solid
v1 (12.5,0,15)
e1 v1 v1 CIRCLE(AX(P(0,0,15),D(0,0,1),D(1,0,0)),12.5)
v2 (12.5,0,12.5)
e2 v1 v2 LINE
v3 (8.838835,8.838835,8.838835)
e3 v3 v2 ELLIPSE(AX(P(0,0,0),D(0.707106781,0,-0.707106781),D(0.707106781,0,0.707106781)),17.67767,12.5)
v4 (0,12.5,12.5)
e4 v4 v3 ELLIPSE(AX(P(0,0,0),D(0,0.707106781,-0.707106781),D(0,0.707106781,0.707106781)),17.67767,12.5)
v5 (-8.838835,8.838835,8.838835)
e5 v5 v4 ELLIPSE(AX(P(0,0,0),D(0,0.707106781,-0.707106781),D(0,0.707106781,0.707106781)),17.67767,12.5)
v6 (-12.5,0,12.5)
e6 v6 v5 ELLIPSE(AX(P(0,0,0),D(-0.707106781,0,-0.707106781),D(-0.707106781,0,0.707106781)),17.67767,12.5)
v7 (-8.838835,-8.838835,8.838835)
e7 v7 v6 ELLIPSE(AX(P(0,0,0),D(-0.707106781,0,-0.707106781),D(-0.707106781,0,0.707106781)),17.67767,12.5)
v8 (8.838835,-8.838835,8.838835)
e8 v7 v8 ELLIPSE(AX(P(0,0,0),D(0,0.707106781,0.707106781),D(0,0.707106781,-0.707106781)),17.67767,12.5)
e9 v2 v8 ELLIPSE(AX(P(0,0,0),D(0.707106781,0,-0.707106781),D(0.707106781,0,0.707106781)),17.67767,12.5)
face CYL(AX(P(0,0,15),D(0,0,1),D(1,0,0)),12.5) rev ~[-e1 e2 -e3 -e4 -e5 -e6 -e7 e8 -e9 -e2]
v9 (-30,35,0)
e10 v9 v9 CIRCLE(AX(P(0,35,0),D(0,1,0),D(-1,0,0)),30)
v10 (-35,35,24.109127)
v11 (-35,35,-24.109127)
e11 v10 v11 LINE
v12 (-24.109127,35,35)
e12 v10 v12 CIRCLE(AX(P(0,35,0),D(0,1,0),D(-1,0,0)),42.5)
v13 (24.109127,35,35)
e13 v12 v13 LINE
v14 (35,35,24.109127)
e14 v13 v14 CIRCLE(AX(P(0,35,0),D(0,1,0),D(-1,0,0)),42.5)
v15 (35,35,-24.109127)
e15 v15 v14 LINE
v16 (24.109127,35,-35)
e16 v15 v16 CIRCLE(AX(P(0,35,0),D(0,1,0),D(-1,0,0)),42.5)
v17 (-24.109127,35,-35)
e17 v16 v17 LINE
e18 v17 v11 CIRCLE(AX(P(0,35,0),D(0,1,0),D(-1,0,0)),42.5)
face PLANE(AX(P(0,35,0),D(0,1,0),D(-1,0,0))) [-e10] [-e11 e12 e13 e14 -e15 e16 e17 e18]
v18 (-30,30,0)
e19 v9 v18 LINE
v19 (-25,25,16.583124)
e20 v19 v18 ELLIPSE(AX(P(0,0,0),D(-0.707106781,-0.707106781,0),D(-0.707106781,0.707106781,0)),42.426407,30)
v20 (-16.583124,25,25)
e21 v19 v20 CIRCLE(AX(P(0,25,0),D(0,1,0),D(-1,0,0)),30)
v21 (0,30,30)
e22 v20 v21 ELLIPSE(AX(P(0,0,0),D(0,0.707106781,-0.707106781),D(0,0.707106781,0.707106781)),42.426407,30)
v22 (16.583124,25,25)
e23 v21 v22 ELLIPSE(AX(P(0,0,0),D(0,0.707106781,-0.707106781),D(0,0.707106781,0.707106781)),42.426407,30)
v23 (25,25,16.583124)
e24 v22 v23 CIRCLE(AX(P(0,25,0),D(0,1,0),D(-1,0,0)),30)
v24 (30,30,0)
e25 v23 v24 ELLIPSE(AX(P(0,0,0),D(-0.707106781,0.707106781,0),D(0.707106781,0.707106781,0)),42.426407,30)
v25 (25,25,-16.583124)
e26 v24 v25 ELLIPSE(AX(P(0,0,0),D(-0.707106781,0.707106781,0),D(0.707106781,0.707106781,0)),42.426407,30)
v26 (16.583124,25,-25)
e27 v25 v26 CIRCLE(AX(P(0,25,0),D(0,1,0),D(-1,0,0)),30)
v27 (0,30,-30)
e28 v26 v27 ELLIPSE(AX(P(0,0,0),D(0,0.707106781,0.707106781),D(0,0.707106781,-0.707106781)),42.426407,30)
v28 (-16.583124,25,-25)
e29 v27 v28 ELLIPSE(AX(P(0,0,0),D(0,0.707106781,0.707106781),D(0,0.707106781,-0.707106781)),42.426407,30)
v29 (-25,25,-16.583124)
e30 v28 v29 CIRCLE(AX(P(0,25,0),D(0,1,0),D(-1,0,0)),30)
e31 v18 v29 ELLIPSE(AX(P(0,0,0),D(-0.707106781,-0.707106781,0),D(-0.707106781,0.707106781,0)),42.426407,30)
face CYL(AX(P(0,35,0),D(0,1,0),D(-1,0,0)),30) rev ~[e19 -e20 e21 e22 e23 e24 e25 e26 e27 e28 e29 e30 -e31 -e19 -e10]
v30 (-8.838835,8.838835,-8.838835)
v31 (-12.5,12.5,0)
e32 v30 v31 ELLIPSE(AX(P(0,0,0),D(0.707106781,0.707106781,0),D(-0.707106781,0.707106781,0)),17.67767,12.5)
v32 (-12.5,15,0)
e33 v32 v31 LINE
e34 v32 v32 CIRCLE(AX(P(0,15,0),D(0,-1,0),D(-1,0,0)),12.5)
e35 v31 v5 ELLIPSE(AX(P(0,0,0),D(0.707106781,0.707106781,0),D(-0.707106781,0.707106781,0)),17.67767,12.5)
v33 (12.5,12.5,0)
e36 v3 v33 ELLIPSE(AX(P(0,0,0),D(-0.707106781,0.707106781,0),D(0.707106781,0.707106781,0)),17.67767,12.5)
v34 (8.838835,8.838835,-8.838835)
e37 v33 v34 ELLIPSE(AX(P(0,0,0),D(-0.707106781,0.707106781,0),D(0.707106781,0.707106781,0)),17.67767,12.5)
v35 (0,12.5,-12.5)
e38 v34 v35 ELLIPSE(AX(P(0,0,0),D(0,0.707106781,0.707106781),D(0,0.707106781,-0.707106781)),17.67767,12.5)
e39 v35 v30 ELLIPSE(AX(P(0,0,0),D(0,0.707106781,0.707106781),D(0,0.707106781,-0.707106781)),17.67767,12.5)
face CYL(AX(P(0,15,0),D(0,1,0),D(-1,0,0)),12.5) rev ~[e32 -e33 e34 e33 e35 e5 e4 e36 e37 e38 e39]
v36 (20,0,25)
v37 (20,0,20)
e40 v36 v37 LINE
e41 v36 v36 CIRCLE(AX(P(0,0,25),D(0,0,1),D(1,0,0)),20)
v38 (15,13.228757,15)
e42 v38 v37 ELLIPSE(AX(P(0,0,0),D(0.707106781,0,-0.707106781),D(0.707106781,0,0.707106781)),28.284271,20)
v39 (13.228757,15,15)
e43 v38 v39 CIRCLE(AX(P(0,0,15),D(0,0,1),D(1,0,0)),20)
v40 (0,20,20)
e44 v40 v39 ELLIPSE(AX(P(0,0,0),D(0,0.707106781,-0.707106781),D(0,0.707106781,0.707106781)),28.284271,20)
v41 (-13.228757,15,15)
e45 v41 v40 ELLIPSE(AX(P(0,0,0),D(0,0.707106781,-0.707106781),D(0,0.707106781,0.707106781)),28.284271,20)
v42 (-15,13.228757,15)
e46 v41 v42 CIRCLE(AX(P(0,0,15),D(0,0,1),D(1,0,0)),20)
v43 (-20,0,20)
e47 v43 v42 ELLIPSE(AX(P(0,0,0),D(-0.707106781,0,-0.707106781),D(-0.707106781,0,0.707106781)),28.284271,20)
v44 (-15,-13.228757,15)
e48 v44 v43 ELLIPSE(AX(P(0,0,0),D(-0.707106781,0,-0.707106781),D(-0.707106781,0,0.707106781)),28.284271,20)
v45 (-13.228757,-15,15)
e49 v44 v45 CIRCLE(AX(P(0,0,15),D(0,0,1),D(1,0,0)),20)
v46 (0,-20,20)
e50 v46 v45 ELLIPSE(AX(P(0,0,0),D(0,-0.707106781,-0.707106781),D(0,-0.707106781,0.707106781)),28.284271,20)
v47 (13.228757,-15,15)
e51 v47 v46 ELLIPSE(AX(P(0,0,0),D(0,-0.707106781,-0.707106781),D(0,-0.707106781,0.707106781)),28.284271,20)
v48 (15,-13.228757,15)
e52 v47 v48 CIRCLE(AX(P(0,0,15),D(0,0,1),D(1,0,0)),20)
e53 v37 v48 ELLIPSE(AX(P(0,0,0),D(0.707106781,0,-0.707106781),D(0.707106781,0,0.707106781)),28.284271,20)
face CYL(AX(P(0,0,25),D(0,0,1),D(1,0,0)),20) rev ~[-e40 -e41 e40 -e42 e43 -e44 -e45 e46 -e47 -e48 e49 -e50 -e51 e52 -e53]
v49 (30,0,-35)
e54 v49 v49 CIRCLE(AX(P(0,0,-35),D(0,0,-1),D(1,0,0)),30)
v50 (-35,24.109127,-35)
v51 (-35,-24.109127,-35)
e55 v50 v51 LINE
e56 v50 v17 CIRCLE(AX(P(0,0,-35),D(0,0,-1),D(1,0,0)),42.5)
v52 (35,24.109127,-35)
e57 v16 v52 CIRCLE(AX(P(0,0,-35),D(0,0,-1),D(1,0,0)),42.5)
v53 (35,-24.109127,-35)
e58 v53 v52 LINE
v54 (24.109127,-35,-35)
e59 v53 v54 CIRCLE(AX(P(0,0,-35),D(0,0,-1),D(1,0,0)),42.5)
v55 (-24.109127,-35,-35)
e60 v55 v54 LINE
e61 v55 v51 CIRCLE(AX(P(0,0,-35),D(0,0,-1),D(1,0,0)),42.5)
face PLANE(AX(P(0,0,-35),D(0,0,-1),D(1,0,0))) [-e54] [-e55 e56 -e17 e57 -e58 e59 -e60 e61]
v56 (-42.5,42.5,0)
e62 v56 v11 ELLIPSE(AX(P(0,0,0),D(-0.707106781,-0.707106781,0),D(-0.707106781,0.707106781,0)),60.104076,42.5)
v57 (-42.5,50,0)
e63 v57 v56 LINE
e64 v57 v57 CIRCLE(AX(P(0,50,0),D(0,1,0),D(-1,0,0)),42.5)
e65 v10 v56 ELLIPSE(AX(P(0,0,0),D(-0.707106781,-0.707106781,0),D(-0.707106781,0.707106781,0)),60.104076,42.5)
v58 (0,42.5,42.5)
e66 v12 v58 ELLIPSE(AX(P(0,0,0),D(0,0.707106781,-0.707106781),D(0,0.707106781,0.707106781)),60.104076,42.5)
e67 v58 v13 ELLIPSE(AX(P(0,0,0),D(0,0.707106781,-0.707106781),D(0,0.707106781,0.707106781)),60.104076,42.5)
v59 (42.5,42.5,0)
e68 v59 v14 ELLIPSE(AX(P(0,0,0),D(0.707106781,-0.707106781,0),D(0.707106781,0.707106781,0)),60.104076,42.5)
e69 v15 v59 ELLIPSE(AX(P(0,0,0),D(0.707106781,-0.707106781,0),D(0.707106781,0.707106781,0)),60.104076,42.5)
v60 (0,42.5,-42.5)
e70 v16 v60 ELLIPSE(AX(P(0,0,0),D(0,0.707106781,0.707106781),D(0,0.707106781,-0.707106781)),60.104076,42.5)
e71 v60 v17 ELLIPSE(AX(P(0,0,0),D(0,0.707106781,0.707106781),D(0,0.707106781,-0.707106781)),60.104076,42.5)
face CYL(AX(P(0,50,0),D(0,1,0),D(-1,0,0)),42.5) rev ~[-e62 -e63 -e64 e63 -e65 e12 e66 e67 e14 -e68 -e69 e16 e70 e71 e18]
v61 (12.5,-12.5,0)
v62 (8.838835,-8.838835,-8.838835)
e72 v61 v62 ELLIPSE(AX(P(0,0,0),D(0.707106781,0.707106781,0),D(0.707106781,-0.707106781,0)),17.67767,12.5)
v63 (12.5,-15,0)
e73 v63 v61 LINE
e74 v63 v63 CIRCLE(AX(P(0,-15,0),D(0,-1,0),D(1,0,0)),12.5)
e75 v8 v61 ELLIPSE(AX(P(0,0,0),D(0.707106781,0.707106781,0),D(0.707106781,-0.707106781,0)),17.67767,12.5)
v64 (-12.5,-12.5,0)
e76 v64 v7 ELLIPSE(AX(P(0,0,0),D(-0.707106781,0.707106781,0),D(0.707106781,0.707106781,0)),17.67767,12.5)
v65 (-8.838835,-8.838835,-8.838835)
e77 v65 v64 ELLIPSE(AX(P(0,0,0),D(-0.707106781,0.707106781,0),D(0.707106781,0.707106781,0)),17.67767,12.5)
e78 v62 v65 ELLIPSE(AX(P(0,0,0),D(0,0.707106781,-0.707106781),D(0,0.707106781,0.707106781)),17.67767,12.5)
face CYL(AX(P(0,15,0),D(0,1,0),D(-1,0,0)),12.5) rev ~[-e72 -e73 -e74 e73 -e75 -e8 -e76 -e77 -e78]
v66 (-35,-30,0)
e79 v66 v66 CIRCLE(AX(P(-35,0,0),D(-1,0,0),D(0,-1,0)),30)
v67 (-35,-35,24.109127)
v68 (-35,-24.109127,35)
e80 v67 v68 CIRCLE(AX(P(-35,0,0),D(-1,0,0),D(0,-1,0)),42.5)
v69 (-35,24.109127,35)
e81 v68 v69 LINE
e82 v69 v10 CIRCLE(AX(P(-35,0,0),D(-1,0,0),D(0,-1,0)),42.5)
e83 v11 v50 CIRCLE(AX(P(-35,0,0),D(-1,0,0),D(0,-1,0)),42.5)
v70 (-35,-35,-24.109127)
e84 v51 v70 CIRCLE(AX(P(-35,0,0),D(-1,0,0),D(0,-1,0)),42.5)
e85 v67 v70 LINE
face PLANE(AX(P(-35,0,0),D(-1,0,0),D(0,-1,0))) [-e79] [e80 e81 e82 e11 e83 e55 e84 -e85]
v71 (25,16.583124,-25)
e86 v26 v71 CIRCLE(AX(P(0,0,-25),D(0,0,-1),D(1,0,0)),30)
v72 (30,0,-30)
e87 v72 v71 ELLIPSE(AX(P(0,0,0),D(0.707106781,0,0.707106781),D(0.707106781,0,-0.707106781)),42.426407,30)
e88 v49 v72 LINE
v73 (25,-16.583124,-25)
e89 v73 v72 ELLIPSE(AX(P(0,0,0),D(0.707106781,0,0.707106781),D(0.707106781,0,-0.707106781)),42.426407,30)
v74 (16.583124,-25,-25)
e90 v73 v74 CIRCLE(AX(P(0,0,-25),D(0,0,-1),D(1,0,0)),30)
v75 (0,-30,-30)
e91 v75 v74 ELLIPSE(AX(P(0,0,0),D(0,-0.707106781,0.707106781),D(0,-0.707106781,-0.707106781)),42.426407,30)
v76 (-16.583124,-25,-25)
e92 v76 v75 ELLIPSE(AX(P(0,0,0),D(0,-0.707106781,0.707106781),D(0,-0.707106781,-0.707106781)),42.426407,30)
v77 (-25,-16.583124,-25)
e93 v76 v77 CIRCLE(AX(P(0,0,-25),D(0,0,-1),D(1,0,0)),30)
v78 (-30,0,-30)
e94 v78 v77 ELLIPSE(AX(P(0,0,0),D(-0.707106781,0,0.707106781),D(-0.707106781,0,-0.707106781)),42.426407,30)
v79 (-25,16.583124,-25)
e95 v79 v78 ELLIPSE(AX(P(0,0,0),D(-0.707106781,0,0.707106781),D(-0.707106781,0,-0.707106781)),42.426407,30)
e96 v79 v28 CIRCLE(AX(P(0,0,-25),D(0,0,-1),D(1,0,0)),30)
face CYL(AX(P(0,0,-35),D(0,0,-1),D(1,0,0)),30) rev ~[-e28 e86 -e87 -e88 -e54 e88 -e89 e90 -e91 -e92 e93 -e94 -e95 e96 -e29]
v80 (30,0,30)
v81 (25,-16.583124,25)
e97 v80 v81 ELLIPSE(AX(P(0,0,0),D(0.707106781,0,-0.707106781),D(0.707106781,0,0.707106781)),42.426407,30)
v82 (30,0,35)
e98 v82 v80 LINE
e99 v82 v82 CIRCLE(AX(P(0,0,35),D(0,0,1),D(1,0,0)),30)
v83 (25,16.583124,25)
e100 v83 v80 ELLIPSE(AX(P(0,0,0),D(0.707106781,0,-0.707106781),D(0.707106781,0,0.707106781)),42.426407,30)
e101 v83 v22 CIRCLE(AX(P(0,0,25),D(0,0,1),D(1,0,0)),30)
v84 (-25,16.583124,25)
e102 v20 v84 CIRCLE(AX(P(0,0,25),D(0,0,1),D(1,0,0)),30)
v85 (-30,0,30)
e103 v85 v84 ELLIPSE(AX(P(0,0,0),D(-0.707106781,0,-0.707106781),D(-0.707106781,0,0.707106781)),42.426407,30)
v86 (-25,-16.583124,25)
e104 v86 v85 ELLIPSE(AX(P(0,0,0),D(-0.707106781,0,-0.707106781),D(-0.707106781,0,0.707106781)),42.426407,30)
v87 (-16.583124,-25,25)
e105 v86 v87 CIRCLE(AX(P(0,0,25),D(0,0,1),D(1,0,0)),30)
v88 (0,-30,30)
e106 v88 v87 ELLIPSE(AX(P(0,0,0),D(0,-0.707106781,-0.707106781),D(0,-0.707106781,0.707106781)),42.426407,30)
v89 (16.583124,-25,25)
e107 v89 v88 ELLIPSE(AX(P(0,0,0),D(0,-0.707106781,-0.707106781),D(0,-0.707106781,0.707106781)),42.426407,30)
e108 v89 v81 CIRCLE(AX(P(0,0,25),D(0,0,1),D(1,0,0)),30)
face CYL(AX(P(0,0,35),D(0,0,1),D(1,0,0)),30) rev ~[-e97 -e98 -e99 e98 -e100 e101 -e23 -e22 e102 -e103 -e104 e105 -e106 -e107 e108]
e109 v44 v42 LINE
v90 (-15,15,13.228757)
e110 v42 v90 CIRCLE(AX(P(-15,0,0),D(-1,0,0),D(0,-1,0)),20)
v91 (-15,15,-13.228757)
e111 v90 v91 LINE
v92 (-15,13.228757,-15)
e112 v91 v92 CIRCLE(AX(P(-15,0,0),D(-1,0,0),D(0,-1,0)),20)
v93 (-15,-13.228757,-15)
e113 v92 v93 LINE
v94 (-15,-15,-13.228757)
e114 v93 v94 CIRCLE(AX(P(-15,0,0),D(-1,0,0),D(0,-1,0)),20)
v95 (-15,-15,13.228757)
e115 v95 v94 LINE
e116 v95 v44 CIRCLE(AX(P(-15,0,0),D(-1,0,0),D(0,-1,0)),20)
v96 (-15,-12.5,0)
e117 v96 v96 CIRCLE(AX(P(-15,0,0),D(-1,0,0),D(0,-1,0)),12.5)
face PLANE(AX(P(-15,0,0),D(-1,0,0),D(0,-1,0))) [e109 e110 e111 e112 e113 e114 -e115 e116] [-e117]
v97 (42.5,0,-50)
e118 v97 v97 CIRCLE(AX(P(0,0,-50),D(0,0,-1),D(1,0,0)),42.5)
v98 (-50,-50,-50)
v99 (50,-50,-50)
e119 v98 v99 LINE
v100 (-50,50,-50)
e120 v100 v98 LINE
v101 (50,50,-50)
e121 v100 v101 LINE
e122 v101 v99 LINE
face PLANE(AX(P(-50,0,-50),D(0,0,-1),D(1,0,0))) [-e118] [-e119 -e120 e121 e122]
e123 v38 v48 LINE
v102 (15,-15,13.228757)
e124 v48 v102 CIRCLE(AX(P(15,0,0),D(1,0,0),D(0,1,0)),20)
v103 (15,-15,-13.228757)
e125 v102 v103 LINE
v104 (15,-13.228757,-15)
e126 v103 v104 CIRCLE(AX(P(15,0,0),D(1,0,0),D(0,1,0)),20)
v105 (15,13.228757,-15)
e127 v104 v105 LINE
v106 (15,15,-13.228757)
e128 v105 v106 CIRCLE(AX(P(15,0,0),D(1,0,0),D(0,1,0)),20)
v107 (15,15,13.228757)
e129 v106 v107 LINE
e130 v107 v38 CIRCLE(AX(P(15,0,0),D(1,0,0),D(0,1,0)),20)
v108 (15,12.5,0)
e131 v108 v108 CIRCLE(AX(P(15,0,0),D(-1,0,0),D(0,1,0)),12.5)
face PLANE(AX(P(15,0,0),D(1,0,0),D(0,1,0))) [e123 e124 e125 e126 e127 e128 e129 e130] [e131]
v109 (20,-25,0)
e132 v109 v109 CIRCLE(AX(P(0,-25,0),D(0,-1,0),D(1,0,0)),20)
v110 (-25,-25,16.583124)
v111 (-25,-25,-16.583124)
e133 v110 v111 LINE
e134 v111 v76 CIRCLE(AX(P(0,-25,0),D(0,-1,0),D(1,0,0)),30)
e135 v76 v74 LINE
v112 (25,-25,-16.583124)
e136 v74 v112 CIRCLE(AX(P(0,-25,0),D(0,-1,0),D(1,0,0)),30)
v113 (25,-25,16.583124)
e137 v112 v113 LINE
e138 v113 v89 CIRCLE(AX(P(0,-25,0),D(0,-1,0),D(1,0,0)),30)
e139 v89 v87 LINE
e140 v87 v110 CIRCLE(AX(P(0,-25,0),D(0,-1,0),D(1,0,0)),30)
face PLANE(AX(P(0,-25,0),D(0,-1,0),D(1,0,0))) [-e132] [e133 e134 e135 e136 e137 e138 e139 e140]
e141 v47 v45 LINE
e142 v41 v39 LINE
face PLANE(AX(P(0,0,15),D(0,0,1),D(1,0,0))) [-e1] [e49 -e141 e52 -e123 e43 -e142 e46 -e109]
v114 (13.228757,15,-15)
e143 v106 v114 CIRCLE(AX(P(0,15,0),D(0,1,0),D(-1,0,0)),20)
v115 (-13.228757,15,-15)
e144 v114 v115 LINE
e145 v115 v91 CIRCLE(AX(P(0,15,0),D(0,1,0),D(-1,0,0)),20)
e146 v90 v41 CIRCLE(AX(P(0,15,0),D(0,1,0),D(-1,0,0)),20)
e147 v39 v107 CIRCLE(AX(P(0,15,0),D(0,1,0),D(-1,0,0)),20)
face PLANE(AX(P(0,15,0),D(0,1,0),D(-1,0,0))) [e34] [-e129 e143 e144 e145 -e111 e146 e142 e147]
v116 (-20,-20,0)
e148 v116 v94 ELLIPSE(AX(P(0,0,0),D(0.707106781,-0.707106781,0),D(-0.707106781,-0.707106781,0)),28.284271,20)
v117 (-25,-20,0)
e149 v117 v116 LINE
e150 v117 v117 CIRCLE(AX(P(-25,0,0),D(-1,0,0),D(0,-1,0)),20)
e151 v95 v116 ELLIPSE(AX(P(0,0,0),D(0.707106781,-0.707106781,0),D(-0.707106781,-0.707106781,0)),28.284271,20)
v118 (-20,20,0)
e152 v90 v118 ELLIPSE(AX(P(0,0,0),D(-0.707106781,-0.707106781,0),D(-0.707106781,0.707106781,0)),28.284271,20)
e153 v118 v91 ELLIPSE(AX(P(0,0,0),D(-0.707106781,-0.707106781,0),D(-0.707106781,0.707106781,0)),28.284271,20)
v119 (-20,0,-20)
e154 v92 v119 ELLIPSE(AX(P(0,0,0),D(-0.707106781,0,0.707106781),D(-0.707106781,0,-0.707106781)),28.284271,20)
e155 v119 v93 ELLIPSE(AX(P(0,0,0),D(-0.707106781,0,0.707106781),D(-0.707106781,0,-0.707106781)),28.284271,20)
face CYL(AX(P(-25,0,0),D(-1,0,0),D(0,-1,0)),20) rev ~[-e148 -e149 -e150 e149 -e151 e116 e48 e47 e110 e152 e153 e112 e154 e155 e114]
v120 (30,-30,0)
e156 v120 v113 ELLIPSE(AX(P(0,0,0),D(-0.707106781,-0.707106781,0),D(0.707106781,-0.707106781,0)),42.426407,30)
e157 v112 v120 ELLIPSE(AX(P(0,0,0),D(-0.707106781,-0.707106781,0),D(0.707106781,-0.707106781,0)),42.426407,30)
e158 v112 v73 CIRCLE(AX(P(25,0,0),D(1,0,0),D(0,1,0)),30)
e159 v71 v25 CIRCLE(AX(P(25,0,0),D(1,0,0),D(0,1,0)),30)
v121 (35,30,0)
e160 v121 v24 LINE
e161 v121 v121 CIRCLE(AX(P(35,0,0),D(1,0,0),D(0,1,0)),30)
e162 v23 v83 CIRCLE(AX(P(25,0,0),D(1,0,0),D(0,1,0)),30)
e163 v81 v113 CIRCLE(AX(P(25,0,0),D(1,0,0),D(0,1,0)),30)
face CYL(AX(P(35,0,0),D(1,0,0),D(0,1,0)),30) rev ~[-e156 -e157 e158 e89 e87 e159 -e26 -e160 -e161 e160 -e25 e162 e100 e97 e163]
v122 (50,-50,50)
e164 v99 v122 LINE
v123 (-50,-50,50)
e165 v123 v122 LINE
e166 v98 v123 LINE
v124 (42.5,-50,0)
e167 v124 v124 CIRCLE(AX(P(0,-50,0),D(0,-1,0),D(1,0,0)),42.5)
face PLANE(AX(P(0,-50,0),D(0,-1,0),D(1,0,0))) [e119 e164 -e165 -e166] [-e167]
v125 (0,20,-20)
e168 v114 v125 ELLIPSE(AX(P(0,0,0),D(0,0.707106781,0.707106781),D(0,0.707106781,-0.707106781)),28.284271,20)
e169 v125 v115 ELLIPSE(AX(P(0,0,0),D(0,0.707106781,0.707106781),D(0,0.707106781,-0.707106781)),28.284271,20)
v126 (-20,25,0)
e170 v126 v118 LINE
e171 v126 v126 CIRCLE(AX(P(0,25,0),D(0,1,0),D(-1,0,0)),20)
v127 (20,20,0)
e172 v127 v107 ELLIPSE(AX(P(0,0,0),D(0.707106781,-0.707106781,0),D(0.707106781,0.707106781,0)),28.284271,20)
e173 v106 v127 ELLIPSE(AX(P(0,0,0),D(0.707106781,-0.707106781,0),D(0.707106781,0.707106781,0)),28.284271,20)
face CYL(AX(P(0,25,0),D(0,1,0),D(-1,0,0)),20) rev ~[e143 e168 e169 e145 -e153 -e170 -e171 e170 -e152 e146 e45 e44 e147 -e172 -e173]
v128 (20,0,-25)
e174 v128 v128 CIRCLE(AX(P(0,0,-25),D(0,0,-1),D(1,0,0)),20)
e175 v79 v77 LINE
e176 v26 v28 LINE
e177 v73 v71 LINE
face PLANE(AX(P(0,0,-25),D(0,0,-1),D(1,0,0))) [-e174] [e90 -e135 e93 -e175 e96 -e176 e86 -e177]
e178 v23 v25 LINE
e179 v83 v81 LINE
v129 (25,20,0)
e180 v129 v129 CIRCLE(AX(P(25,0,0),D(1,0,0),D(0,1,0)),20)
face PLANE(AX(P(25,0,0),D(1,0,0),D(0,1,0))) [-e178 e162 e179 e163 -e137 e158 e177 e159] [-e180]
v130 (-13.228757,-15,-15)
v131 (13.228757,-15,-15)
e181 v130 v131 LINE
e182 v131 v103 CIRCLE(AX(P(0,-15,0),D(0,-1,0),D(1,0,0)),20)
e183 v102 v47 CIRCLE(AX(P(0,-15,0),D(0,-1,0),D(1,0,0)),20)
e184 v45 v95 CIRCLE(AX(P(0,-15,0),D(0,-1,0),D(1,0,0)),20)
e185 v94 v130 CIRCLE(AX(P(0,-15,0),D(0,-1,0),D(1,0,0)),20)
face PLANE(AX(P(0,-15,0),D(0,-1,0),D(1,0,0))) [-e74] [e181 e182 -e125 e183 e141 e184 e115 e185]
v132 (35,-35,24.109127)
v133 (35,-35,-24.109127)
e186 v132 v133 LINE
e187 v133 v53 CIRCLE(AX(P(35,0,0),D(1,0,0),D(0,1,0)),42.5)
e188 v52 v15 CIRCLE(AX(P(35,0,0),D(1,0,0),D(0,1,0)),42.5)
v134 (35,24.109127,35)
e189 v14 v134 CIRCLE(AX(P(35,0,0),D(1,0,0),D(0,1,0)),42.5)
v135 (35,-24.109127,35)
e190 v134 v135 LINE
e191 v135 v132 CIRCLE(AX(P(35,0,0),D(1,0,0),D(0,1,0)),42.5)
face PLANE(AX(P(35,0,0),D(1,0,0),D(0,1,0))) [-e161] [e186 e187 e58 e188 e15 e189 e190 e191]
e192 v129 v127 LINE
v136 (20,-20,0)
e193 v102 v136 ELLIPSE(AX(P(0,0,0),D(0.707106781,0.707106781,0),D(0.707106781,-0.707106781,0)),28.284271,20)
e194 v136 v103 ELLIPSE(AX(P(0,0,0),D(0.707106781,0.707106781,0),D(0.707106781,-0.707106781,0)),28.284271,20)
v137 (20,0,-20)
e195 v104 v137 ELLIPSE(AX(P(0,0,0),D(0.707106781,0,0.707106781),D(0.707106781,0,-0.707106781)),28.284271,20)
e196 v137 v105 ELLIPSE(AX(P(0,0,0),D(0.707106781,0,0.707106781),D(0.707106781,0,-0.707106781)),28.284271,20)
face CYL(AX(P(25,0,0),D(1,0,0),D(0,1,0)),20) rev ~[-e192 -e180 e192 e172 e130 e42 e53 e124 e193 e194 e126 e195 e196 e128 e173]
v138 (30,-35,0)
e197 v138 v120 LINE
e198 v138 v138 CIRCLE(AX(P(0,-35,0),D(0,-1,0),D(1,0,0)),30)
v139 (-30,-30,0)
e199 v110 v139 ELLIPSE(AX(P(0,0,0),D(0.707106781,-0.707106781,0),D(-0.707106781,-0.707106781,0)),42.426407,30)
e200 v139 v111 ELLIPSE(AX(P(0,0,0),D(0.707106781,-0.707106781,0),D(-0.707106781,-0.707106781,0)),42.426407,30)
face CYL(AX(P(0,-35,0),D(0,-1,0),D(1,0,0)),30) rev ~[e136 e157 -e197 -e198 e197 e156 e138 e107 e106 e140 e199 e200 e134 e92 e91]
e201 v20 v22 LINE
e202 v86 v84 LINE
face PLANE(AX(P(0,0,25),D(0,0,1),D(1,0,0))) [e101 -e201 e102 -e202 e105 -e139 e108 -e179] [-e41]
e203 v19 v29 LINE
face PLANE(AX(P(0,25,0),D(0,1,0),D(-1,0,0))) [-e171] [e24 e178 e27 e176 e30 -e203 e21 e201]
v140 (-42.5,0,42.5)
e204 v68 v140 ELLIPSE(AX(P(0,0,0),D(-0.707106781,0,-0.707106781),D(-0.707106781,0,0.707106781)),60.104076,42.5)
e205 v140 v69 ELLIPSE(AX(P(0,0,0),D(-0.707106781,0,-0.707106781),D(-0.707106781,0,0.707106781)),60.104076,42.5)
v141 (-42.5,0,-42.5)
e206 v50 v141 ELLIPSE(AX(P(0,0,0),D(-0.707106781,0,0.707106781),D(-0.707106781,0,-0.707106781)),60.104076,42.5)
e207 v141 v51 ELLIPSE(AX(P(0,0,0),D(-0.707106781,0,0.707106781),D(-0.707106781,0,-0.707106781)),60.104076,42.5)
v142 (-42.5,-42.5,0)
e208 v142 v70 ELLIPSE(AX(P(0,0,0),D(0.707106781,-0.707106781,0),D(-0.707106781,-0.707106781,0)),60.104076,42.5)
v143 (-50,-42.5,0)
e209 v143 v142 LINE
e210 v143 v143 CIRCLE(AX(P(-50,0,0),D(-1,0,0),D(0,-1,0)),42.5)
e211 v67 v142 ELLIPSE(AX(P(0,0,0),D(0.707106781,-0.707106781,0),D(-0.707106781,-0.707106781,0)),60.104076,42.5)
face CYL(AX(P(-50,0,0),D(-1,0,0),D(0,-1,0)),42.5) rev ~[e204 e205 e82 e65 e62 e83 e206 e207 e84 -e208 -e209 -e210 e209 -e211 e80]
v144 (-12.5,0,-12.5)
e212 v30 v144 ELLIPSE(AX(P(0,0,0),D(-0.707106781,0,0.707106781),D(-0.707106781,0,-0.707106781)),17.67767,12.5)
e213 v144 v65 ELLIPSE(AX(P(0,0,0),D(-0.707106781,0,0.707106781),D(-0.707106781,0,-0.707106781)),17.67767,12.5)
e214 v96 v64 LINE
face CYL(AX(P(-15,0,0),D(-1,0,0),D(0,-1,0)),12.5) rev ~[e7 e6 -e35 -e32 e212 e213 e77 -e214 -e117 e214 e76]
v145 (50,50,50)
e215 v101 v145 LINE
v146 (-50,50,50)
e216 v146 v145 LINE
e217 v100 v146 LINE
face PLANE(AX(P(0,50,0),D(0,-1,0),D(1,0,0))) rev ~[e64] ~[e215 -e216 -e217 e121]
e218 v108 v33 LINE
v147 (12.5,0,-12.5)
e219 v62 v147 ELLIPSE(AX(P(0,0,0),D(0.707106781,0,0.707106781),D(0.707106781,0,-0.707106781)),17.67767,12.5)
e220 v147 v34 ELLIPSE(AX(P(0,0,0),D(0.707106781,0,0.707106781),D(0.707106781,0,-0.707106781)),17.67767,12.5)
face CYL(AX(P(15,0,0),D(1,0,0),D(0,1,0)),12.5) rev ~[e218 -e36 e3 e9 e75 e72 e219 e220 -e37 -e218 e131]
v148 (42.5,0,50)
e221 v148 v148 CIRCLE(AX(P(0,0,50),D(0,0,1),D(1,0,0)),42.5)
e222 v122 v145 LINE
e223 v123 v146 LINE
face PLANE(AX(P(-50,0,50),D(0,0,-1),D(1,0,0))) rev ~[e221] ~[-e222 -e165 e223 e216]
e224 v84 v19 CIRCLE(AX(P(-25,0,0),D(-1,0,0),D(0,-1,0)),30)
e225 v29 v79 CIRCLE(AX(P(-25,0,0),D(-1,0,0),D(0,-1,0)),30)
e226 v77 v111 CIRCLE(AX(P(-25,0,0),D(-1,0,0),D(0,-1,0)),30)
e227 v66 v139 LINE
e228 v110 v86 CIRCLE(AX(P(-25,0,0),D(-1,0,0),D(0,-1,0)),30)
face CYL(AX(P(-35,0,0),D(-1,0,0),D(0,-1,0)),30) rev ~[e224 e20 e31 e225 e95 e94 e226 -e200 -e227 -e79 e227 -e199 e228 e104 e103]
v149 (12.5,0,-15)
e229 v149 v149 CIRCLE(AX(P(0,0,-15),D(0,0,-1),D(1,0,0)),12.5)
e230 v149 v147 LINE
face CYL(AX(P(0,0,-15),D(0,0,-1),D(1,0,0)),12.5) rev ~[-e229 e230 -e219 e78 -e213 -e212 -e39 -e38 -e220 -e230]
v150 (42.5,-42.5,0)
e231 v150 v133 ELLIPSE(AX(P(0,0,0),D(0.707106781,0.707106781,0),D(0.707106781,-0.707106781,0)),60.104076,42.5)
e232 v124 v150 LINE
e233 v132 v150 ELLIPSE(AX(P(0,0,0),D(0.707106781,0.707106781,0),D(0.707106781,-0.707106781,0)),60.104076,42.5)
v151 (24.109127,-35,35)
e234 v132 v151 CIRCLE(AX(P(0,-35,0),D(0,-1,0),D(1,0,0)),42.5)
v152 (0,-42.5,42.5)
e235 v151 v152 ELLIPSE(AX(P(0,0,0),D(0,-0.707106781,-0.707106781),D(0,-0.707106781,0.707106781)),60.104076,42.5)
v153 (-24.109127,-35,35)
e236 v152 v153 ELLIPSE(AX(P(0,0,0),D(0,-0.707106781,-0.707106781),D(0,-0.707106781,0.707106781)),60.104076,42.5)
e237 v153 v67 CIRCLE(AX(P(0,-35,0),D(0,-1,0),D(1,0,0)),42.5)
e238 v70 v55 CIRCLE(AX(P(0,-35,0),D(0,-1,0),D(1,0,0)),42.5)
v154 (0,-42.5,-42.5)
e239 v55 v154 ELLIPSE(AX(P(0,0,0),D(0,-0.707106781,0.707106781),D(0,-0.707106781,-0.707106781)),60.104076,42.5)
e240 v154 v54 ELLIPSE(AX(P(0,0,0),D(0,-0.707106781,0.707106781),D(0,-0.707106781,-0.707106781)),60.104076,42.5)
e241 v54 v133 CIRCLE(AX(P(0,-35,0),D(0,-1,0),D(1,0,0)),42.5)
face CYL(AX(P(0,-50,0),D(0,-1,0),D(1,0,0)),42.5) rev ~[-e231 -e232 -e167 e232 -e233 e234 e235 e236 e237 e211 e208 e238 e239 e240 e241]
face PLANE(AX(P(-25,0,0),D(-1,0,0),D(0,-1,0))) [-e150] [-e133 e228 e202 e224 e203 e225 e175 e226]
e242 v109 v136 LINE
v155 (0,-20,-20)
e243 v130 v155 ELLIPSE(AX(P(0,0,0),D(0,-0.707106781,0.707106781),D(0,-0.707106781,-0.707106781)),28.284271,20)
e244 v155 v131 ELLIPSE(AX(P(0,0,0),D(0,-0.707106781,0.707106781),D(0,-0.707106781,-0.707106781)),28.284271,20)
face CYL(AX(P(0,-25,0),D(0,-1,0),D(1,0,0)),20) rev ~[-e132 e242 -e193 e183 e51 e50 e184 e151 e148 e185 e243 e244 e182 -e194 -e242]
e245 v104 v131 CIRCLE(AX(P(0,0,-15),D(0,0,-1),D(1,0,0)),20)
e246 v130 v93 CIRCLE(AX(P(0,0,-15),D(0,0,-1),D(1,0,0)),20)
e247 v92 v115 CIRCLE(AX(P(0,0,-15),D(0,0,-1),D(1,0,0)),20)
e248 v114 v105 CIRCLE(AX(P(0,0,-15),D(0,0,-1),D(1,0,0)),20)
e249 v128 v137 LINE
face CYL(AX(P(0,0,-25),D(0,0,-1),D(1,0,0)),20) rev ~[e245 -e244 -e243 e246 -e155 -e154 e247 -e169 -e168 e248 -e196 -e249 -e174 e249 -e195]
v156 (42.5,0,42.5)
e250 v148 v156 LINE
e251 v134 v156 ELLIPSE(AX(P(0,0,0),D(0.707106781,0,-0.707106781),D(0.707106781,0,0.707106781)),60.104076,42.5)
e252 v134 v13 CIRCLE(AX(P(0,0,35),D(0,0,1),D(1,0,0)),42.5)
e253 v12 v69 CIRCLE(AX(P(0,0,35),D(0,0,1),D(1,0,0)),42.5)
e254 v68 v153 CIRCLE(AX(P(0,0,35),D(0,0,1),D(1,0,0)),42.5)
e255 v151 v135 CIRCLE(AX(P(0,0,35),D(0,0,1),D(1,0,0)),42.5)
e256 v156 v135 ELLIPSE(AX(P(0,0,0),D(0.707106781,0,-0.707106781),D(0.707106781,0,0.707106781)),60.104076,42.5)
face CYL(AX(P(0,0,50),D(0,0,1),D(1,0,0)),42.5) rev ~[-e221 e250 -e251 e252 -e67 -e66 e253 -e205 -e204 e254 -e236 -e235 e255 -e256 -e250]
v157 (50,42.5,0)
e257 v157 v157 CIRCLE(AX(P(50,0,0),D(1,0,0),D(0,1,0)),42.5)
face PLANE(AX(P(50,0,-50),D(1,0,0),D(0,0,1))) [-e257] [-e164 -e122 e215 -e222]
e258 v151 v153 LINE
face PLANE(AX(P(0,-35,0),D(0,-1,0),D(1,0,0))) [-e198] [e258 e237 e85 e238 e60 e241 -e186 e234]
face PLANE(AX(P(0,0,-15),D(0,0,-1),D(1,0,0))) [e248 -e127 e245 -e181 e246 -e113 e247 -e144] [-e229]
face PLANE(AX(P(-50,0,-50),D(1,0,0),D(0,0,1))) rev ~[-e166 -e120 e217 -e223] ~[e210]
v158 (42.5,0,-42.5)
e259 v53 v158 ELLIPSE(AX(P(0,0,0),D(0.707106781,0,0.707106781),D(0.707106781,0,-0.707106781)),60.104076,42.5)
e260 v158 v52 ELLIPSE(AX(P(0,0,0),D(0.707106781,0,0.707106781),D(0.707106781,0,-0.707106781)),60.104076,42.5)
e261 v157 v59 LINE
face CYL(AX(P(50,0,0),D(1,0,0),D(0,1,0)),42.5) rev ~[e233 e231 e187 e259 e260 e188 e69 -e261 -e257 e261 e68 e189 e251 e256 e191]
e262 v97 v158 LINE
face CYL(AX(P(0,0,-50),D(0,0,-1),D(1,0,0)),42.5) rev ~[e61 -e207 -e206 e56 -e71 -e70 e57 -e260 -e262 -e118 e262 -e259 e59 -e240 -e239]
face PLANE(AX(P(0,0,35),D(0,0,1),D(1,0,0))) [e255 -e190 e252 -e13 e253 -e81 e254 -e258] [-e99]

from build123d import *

# Parameters (mm, degrees)
F0_W      = 100
F0_H      = 100
F1_DEPTH  = 50
F2_R      = 42.5
F3_DEPTH  = 15
F4_R      = 42.5
F5_DEPTH  = 15
F6_R      = 42.5
F7_DEPTH  = 15
F8_R      = 42.5
F9_DEPTH  = 15
F10_R     = 30
F11_DEPTH = 10
F12_R     = 30
F13_DEPTH = 10
F14_R     = 30
F15_DEPTH = 10
F16_R     = 30
F17_DEPTH = 10
F18_R     = 20
F19_DEPTH = 10
F20_R     = 20
F21_DEPTH = 10
F22_R     = 20
F23_DEPTH = 10
F24_R     = 20
F25_DEPTH = 10
F26_R     = 12.5
F27_DEPTH = 10
F28_R     = 12.5
F29_DEPTH = 10
F30_R     = 12.5
F31_DEPTH = 65.001
F32_R     = 12.5
F33_DEPTH = 65.001
F34_R     = 42.5
F35_DEPTH = 15
F36_R     = 30
F37_DEPTH = 10
F38_R     = 20
F39_DEPTH = 10
F40_R     = 12.5
F41_DEPTH = 10
F42_R     = 42.5
F43_DEPTH = 15
F44_R     = 30
F45_DEPTH = 10
F46_R     = 20
F47_DEPTH = 10
F48_R     = 12.5
F49_DEPTH = 65.001


with BuildPart() as f1:
    # F0 (on Front) → F1 (new body, symmetric)
    with BuildSketch(Plane.XZ):
        Rectangle(F0_W, F0_H)
    extrude(amount=F1_DEPTH, both=True)

    # F2 (on face) → F3 (cut)
    with BuildSketch(Plane.YZ.offset(50)):
        Circle(F2_R)
    extrude(amount=-F3_DEPTH, mode=Mode.SUBTRACT)

    # F4 (on face) → F5 (cut)
    with BuildSketch(Plane.XZ.offset(50)):
        Circle(F4_R)
    extrude(amount=-F5_DEPTH, mode=Mode.SUBTRACT)

    # F6 (on face) → F7 (cut)
    with BuildSketch(Plane(origin=(-50, 0, 0), x_dir=(0, -1, 0), z_dir=(-1, 0, 0))):
        Circle(F6_R)
    extrude(amount=-F7_DEPTH, mode=Mode.SUBTRACT)

    # F8 (on face) → F9 (cut)
    with BuildSketch(Plane(origin=(0, 50, 0), x_dir=(-1, 0, 0), z_dir=(0, 1, 0))):
        Circle(F8_R)
    extrude(amount=-F9_DEPTH, mode=Mode.SUBTRACT)

    # F10 (on face) → F11 (cut)
    with BuildSketch(Plane.XZ.offset(35)):
        Circle(F10_R)
    extrude(amount=-F11_DEPTH, mode=Mode.SUBTRACT)

    # F12 (on face) → F13 (cut)
    with BuildSketch(Plane(origin=(-35, 0, 0), x_dir=(0, -1, 0), z_dir=(-1, 0, 0))):
        Circle(F12_R)
    extrude(amount=-F13_DEPTH, mode=Mode.SUBTRACT)

    # F14 (on face) → F15 (cut)
    with BuildSketch(Plane(origin=(0, 35, 0), x_dir=(-1, 0, 0), z_dir=(0, 1, 0))):
        Circle(F14_R)
    extrude(amount=-F15_DEPTH, mode=Mode.SUBTRACT)

    # F16 (on face) → F17 (cut)
    with BuildSketch(Plane.YZ.offset(35)):
        Circle(F16_R)
    extrude(amount=-F17_DEPTH, mode=Mode.SUBTRACT)

    # F18 (on face) → F19 (cut)
    with BuildSketch(Plane.YZ.offset(25)):
        Circle(F18_R)
    extrude(amount=-F19_DEPTH, mode=Mode.SUBTRACT)

    # F20 (on face) → F21 (cut)
    with BuildSketch(Plane.XZ.offset(25)):
        Circle(F20_R)
    extrude(amount=-F21_DEPTH, mode=Mode.SUBTRACT)

    # F22 (on face) → F23 (cut)
    with BuildSketch(Plane(origin=(-25, 0, 0), x_dir=(0, -1, 0), z_dir=(-1, 0, 0))):
        Circle(F22_R)
    extrude(amount=-F23_DEPTH, mode=Mode.SUBTRACT)

    # F24 (on face) → F25 (cut)
    with BuildSketch(Plane(origin=(0, 25, 0), x_dir=(-1, 0, 0), z_dir=(0, 1, 0))):
        Circle(F24_R)
    extrude(amount=-F25_DEPTH, mode=Mode.SUBTRACT)

    # F26 (on face) → F27 (cut)
    with BuildSketch(Plane(origin=(0, 15, 0), x_dir=(-1, 0, 0), z_dir=(0, 1, 0))):
        Circle(F26_R)
    extrude(amount=-F27_DEPTH, mode=Mode.SUBTRACT)

    # F28 (on face) → F29 (cut)
    with BuildSketch(Plane.YZ.offset(15)):
        Circle(F28_R)
    extrude(amount=-F29_DEPTH, mode=Mode.SUBTRACT)

    # F30 (on face) → F31 (cut, through all)
    with BuildSketch(Plane.XZ.offset(15)):
        Circle(F30_R)
    extrude(amount=-F31_DEPTH, mode=Mode.SUBTRACT)

    # F32 (on face) → F33 (cut, through all)
    with BuildSketch(Plane(origin=(-15, 0, 0), x_dir=(0, -1, 0), z_dir=(-1, 0, 0))):
        Circle(F32_R)
    extrude(amount=-F33_DEPTH, mode=Mode.SUBTRACT)

    # F34 (on face) → F35 (cut)
    with BuildSketch(Plane.XY.offset(50)):
        Circle(F34_R)
    extrude(amount=-F35_DEPTH, mode=Mode.SUBTRACT)

    # F36 (on face) → F37 (cut)
    with BuildSketch(Plane.XY.offset(35)):
        Circle(F36_R)
    extrude(amount=-F37_DEPTH, mode=Mode.SUBTRACT)

    # F38 (on face) → F39 (cut)
    with BuildSketch(Plane.XY.offset(25)):
        Circle(F38_R)
    extrude(amount=-F39_DEPTH, mode=Mode.SUBTRACT)

    # F40 (on face) → F41 (cut)
    with BuildSketch(Plane.XY.offset(15)):
        Circle(F40_R)
    extrude(amount=-F41_DEPTH, mode=Mode.SUBTRACT)

    # F42 (on face) → F43 (cut)
    with BuildSketch(Plane(origin=(0, 0, -50), x_dir=(1, 0, 0), z_dir=(0, 0, -1))):
        Circle(F42_R)
    extrude(amount=-F43_DEPTH, mode=Mode.SUBTRACT)

    # F44 (on face) → F45 (cut)
    with BuildSketch(Plane(origin=(0, 0, -35), x_dir=(1, 0, 0), z_dir=(0, 0, -1))):
        Circle(F44_R)
    extrude(amount=-F45_DEPTH, mode=Mode.SUBTRACT)

    # F46 (on face) → F47 (cut)
    with BuildSketch(Plane(origin=(0, 0, -25), x_dir=(1, 0, 0), z_dir=(0, 0, -1))):
        Circle(F46_R)
    extrude(amount=-F47_DEPTH, mode=Mode.SUBTRACT)

    # F48 (on face) → F49 (cut, through all)
    with BuildSketch(Plane(origin=(0, 0, -15), x_dir=(1, 0, 0), z_dir=(0, 0, -1))):
        Circle(F48_R)
    extrude(amount=-F49_DEPTH, mode=Mode.SUBTRACT)


solid = f1.part
